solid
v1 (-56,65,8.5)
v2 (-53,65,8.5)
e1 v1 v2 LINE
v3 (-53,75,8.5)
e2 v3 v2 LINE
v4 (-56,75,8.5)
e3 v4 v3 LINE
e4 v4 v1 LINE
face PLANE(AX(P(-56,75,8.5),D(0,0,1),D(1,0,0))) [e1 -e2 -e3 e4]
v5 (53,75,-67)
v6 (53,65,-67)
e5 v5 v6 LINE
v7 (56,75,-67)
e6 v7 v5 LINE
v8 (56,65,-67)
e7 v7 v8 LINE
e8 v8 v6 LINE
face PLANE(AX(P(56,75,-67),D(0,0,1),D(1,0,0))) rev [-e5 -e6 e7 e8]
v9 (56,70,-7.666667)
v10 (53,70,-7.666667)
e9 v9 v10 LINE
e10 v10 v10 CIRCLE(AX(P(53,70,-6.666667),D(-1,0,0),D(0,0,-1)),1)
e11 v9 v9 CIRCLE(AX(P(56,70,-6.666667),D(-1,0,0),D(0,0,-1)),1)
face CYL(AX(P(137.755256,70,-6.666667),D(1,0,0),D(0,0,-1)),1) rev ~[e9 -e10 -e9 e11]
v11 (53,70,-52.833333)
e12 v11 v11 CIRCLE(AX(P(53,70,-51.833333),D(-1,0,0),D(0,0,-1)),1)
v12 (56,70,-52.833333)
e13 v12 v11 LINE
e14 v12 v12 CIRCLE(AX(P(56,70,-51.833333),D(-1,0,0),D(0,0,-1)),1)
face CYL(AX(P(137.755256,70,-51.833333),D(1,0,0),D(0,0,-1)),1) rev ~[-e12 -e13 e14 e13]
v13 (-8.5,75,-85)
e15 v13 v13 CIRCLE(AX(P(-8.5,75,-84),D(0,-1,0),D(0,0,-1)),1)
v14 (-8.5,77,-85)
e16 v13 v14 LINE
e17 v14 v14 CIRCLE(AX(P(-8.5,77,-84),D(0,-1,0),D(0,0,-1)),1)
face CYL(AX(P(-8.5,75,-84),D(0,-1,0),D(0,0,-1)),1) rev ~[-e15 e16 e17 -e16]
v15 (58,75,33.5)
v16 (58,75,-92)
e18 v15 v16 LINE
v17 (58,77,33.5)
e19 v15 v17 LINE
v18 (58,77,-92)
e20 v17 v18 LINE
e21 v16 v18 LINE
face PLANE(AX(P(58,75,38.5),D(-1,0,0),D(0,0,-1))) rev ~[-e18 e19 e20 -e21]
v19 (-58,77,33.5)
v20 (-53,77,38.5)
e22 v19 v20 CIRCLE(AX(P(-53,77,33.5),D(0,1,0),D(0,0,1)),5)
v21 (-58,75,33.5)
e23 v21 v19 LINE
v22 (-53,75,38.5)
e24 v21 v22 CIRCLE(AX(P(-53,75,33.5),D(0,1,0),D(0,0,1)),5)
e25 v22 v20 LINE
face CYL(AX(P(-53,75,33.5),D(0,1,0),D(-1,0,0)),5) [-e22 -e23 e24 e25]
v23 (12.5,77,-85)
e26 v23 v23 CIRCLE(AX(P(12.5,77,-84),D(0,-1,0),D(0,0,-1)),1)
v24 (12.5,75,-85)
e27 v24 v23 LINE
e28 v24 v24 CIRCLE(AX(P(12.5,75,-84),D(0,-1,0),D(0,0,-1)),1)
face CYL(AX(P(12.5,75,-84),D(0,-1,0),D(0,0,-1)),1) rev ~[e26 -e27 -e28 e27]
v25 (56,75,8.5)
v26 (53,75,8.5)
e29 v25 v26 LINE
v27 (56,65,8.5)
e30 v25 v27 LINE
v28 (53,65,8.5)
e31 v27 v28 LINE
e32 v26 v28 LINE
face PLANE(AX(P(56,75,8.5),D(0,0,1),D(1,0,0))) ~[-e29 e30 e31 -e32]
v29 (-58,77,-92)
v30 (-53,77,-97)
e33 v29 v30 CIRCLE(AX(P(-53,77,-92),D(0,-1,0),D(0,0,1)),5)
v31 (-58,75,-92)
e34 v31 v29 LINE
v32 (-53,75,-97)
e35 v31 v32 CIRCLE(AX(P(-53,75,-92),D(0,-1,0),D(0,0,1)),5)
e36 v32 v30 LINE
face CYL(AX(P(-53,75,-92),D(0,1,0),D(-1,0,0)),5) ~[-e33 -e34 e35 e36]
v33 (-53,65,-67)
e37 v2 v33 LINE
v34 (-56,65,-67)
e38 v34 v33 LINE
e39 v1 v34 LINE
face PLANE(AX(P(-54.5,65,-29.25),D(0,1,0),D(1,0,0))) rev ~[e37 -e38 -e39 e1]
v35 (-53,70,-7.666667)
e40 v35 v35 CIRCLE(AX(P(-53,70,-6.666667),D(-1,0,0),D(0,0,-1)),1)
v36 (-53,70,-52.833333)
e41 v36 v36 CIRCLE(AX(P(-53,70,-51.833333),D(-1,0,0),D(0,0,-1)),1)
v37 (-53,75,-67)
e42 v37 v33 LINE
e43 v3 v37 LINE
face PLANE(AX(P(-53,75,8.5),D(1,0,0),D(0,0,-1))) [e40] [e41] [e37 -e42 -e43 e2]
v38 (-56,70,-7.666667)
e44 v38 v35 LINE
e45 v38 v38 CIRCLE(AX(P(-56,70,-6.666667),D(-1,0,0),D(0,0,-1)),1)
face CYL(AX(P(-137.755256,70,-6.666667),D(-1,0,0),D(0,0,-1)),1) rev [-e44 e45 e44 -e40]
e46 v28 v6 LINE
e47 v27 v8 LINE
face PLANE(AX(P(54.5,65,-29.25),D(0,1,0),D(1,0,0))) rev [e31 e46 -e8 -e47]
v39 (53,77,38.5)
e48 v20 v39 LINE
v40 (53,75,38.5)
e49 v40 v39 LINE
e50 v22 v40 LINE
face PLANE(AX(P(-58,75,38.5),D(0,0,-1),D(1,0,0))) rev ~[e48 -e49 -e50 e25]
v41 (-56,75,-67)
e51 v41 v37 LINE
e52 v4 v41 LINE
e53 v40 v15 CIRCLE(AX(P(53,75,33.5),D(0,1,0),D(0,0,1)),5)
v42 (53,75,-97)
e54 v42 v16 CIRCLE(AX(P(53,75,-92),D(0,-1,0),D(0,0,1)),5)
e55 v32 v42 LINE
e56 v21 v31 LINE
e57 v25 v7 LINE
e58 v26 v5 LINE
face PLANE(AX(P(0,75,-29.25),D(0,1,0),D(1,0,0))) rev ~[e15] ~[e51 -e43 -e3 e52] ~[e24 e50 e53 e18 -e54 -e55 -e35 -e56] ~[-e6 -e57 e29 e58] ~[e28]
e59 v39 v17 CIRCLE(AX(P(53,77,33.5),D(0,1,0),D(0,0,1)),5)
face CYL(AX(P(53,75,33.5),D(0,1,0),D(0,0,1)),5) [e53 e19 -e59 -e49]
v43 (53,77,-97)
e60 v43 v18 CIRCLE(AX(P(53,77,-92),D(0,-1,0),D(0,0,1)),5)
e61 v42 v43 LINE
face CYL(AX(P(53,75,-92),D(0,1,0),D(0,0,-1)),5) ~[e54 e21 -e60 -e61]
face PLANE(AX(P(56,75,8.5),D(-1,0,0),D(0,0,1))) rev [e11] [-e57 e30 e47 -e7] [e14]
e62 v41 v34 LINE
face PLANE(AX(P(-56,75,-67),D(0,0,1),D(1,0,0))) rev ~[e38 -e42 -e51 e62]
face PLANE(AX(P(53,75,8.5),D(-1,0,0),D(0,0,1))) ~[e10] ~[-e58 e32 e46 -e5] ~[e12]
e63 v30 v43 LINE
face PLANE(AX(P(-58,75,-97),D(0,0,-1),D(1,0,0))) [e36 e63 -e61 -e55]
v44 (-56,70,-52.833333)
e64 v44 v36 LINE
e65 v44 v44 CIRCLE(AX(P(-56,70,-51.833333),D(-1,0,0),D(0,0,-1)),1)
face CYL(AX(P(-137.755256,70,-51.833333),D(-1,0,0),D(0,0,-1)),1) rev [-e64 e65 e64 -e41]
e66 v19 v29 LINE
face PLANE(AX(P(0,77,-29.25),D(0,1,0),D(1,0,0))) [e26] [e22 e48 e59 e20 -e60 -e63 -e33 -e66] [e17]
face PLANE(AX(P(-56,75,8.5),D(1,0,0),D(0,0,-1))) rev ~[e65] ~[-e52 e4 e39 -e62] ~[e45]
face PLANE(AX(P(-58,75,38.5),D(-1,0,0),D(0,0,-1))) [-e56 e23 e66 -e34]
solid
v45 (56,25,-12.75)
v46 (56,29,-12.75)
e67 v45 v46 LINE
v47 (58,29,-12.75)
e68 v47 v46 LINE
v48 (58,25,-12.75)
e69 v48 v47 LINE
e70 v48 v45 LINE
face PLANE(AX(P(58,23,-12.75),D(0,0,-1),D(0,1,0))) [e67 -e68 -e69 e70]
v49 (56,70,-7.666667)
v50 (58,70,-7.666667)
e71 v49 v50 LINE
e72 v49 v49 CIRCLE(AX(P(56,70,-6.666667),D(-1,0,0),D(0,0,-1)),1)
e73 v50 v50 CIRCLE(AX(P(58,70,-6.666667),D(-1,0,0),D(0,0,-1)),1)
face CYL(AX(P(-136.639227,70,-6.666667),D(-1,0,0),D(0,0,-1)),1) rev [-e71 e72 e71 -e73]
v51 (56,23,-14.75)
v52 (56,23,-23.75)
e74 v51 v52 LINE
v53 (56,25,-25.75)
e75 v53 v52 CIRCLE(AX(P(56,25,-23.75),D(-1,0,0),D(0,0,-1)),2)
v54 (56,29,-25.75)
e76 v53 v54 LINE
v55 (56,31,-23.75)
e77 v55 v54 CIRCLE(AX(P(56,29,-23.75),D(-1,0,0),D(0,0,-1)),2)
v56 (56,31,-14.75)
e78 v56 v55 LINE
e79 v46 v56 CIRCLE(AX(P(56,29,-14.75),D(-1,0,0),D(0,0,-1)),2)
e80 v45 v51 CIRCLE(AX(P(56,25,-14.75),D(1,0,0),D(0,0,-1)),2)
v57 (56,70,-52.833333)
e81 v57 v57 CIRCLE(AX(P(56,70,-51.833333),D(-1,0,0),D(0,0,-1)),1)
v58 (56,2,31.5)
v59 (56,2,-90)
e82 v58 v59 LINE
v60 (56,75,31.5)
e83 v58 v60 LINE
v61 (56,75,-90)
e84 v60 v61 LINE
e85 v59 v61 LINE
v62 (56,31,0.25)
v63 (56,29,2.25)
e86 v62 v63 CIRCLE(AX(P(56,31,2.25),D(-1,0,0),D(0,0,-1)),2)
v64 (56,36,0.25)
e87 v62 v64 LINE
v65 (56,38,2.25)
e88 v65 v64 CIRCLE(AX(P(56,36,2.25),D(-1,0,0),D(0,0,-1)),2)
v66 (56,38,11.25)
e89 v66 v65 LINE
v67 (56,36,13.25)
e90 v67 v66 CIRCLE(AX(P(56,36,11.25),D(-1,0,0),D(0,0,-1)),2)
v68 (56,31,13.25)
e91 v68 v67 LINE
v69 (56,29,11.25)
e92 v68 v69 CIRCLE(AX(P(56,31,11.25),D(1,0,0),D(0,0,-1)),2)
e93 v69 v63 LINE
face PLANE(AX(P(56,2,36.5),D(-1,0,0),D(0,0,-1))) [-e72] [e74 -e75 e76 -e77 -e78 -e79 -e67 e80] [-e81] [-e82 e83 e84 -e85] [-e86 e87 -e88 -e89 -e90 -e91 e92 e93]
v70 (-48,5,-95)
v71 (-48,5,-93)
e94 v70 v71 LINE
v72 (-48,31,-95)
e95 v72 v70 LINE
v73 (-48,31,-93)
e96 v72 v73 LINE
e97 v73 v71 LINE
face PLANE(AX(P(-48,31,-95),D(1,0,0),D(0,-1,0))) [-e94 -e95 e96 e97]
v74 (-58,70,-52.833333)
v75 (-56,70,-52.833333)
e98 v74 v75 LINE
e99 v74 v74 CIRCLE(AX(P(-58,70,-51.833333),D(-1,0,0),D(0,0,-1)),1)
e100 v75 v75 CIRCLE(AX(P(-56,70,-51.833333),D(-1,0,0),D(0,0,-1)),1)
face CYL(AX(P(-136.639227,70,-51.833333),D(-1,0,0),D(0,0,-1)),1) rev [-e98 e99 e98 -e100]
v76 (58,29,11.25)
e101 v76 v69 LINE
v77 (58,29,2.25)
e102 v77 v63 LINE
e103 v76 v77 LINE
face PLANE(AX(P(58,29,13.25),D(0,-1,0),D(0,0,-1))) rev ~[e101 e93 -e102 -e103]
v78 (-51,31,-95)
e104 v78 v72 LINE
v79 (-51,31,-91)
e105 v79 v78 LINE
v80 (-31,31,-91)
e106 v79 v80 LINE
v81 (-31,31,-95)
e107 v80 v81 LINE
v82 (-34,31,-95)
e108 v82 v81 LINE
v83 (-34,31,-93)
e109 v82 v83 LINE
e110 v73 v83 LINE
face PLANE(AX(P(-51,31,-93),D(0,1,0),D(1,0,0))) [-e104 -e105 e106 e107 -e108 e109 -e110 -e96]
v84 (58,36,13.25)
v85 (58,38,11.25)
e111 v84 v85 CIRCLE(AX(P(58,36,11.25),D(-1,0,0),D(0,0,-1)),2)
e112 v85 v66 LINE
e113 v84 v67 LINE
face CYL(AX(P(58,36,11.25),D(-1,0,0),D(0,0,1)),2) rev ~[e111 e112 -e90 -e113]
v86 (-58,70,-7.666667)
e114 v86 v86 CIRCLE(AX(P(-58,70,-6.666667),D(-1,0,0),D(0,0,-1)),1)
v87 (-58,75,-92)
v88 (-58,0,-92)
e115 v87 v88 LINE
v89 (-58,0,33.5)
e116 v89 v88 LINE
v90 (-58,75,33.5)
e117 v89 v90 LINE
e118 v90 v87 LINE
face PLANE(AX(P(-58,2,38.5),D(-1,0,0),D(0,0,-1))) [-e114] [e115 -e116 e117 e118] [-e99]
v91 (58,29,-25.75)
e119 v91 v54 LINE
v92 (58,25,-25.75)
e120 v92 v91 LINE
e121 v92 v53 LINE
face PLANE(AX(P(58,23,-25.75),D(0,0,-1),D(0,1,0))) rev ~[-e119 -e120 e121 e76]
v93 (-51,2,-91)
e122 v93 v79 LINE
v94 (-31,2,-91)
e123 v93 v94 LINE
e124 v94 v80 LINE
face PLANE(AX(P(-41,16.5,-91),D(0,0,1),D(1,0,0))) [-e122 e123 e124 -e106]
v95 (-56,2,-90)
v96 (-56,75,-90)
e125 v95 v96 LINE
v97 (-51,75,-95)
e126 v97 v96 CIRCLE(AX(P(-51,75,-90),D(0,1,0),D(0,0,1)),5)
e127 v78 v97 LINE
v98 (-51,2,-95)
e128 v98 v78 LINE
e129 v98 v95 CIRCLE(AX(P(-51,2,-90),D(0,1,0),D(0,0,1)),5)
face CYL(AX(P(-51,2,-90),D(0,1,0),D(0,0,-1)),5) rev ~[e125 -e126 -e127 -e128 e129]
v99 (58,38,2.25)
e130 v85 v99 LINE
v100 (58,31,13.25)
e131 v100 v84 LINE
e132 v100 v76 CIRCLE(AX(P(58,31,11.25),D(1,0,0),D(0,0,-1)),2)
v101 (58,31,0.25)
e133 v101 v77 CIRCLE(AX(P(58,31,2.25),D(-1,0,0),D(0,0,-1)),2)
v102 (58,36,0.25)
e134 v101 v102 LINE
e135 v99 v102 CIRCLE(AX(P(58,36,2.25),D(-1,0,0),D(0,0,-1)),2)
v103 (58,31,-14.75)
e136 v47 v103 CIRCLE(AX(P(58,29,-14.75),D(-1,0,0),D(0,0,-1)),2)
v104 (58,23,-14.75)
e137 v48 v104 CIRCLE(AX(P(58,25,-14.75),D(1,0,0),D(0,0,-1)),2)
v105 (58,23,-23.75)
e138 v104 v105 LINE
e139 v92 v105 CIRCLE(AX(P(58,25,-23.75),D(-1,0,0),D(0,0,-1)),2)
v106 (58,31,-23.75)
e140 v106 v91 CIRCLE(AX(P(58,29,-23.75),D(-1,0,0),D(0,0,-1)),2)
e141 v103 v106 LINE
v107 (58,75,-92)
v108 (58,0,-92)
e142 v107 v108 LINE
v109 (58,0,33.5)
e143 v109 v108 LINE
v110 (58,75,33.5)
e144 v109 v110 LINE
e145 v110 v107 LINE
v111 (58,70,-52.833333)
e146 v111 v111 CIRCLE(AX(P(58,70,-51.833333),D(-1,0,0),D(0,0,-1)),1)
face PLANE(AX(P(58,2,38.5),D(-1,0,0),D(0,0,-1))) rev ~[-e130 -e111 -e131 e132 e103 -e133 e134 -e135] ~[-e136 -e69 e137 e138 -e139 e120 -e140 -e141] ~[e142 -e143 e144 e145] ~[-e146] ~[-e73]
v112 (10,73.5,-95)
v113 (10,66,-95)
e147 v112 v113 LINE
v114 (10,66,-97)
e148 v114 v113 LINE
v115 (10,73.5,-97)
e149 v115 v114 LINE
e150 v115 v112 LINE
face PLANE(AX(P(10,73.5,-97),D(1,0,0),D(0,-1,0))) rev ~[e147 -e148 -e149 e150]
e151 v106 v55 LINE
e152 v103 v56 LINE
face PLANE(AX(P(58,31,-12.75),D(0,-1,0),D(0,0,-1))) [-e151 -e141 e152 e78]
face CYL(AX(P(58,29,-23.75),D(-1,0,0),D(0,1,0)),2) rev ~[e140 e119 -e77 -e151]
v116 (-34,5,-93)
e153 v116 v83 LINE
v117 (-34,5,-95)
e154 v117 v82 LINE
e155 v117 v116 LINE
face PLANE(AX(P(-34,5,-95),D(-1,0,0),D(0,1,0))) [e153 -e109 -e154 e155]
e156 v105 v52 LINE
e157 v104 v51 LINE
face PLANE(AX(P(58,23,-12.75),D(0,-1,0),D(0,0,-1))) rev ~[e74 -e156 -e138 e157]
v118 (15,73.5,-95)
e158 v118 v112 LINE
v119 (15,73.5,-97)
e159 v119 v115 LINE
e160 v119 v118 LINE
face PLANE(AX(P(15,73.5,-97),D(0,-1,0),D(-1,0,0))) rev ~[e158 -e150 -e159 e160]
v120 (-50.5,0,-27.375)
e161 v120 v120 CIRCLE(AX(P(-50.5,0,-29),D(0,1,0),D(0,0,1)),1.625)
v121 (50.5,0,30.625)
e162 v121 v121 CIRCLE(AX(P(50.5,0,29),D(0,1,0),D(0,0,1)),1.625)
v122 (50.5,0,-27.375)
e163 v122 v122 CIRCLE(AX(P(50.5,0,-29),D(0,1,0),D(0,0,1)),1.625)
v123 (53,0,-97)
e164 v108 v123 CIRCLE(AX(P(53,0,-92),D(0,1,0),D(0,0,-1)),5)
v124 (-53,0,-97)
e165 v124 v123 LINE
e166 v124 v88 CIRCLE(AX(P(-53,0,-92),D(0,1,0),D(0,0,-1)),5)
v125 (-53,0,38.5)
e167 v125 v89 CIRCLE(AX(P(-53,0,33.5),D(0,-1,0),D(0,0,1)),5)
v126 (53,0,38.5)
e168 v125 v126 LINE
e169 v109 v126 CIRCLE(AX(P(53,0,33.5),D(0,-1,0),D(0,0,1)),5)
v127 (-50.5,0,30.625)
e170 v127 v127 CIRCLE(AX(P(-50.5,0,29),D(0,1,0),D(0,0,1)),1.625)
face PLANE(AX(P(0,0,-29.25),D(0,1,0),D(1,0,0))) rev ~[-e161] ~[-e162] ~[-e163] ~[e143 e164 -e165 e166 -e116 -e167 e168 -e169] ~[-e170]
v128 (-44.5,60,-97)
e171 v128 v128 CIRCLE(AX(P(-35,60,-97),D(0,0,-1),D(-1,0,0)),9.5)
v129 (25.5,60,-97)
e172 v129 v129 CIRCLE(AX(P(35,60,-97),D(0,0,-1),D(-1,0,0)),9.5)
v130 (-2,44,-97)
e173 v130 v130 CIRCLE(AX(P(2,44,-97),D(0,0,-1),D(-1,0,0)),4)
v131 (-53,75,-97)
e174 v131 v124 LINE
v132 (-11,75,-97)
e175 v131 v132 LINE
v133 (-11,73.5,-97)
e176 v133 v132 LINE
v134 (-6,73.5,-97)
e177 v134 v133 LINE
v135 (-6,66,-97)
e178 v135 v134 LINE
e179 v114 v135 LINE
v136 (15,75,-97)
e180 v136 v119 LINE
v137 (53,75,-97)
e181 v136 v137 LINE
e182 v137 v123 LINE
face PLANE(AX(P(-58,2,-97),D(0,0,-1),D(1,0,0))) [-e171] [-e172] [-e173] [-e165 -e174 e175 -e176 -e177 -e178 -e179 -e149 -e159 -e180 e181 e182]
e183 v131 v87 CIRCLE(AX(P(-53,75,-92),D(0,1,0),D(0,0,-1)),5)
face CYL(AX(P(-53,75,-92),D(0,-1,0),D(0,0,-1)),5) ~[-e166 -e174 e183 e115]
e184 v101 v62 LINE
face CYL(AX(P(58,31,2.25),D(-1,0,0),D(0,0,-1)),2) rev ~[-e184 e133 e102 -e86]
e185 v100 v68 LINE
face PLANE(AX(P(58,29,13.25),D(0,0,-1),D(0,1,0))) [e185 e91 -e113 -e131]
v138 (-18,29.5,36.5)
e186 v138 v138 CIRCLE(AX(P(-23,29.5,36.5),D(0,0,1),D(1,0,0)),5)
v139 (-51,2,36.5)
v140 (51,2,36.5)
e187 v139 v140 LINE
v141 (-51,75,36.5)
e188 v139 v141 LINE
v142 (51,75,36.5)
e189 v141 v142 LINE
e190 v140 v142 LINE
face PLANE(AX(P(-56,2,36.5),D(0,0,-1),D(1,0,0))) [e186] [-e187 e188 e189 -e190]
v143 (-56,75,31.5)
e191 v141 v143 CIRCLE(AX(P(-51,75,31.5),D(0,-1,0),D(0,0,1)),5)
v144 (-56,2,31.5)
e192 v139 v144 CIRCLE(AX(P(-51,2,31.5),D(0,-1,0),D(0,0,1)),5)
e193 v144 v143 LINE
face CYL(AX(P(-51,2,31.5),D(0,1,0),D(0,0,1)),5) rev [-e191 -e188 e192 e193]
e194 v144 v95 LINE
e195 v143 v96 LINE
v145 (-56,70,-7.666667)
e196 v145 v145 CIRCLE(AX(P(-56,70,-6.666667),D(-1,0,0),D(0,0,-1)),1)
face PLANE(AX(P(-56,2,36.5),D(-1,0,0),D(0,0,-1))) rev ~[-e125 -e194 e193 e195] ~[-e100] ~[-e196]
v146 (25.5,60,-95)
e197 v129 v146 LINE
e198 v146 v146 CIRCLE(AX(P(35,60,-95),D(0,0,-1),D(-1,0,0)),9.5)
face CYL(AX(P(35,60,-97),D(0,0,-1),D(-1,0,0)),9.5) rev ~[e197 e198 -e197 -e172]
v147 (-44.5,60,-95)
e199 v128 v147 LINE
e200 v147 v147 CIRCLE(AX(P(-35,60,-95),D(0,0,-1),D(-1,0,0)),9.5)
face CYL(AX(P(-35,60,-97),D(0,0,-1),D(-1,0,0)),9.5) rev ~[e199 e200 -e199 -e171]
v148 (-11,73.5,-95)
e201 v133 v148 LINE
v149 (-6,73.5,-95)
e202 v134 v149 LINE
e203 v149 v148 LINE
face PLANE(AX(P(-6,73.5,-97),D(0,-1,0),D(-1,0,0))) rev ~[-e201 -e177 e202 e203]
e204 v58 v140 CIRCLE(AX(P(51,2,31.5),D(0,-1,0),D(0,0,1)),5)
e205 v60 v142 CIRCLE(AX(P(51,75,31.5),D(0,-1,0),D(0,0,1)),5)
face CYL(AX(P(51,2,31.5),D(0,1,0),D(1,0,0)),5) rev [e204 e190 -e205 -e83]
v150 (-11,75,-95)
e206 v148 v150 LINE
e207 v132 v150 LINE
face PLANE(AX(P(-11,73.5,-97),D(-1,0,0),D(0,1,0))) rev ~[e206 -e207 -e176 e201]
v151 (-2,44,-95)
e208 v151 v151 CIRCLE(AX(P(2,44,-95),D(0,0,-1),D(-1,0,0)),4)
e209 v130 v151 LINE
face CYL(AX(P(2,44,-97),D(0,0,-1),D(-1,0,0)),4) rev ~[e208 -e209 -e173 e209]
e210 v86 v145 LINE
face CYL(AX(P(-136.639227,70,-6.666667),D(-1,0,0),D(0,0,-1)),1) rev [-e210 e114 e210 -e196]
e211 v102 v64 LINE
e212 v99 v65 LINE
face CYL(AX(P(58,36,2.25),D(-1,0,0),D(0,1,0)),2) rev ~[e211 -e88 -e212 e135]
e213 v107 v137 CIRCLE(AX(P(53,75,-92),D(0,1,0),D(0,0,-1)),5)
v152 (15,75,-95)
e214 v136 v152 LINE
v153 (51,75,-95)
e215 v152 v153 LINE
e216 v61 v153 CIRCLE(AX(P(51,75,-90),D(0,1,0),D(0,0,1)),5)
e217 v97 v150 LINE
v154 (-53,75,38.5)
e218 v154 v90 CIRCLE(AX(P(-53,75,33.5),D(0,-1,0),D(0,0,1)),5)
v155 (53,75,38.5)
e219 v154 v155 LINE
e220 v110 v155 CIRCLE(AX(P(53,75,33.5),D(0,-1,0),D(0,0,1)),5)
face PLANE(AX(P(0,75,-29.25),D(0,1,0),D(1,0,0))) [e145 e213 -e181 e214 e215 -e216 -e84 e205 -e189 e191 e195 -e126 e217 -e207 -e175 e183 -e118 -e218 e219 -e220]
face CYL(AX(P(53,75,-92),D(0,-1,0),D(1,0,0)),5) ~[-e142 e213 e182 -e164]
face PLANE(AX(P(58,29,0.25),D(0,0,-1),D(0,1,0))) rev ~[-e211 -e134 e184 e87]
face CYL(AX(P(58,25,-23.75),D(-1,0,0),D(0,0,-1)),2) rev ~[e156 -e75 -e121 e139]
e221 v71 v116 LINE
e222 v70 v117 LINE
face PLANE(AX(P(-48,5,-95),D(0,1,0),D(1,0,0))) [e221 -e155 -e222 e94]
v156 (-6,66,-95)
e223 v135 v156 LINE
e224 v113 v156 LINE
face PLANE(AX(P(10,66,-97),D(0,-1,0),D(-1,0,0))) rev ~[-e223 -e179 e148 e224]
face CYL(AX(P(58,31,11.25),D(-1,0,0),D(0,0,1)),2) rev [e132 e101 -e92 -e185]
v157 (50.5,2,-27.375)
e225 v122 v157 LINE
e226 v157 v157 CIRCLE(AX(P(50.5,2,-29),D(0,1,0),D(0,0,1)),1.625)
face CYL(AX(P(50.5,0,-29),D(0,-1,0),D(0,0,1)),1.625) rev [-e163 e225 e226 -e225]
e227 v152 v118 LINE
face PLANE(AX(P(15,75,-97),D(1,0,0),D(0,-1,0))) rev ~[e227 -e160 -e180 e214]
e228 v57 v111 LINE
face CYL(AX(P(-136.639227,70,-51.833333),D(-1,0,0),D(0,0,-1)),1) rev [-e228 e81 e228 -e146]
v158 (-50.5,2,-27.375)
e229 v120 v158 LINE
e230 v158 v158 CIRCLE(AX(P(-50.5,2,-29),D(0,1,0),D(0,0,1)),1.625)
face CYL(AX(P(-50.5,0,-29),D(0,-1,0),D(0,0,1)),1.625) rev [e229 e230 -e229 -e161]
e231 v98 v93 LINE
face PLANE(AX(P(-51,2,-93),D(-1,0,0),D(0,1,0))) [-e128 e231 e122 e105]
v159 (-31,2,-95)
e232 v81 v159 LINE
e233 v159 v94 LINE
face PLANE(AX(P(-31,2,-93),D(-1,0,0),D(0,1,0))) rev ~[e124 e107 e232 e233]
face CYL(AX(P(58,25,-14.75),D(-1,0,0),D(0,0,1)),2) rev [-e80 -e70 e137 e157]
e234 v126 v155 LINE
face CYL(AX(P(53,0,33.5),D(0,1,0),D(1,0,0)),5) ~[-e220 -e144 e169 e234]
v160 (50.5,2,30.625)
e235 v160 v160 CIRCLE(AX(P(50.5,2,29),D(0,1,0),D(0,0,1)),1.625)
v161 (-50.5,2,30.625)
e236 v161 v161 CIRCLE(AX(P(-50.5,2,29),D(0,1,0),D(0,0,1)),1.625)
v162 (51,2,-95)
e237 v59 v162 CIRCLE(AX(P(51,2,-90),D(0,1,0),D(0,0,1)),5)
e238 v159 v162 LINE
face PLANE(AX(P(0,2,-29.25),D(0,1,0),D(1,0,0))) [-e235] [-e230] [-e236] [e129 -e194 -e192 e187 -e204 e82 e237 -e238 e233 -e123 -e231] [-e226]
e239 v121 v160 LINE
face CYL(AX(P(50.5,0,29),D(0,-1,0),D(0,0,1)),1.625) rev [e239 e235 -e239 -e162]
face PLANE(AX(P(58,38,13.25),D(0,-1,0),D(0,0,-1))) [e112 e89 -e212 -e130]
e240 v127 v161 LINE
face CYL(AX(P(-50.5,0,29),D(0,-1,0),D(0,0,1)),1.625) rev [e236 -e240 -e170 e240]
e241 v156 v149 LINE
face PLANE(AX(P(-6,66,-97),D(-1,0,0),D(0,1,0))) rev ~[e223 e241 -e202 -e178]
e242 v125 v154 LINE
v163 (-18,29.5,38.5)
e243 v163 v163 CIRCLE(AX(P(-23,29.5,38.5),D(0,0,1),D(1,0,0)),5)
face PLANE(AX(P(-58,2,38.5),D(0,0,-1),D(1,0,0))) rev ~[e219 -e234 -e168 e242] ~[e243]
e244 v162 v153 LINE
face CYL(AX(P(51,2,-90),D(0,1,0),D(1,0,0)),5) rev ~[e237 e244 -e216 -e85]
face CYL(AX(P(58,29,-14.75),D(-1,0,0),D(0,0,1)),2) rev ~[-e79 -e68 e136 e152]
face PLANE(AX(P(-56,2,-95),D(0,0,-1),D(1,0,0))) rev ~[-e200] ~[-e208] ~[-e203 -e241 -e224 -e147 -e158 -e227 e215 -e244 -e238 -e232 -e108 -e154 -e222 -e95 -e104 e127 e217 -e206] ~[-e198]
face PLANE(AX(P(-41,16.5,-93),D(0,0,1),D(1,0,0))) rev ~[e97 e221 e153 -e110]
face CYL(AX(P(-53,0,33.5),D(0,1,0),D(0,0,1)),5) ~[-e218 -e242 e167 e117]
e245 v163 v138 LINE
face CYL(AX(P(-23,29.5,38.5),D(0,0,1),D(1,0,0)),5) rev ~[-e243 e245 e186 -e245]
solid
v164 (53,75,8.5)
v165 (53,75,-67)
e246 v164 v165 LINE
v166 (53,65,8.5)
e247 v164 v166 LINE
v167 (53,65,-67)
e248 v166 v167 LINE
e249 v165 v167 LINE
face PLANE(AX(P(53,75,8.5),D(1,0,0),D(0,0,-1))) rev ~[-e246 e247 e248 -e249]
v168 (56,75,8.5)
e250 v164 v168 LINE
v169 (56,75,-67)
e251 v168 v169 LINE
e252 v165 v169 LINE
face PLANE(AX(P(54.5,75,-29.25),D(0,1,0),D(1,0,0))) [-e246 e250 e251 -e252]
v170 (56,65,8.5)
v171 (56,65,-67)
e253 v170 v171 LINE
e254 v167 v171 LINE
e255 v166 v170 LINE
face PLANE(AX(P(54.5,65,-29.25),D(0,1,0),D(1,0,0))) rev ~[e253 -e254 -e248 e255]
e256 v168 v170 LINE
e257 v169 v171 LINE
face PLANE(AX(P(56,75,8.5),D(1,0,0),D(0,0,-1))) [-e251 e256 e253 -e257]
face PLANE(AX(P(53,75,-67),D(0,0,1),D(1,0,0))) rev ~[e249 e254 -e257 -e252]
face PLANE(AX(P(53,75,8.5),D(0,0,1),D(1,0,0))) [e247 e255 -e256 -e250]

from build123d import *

# Parameters (mm, degrees)
SKETCH1_W               = 116
SKETCH1_H               = 135.5
SKETCH1_R               = 1.625
BOSS_EXTRUDE1_DEPTH     = 2
SKETCH3_W               = 116
SKETCH3_H               = 135.5
SKETCH3_W_2             = 112
SKETCH3_H_2             = 131.5
BOSS_EXTRUDE2_DEPTH     = 73
SKETCH5_W               = 13
SKETCH5_H               = 8
SKETCH5_H_2             = 9
CUT_EXTRUDE1_DEPTH      = 2
SKETCH8_R               = 5
CUT_EXTRUDE2_DEPTH      = 2
FILLET1_R               = 2
FILLET2_R               = 5
CUT_EXTRUDE3_DEPTH      = 136.639227364
CUT_EXTRUDE3_DEPTH_BACK = 136.639227364
SKETCH9_R               = 1
SKETCH10_R              = 4
CUT_EXTRUDE4_DEPTH      = 2
CUT_EXTRUDE5_DEPTH      = 2
BOSS_EXTRUDE4_DEPTH     = 2
SKETCH15_W              = 20
SKETCH15_H              = 29
BOSS_EXTRUDE5_DEPTH     = 2
SKETCH16_R              = 9.5
CUT_EXTRUDE6_DEPTH      = 2
SKETCH17_R              = 9.5
CUT_EXTRUDE7_DEPTH      = 2
SKETCH18_W              = 3
SKETCH18_H              = 75.5
BOSS_EXTRUDE6_DEPTH     = 10
BOSS_EXTRUDE6_2_DEPTH   = 10
SKETCH19_W              = 116
SKETCH19_H              = 135.5
BOSS_EXTRUDE7_DEPTH     = 2
FILLET3_R               = 5
SKETCH21_R              = 1
CUT_EXTRUDE8_DEPTH      = 2
CUT_EXTRUDE9_DEPTH      = 137.75525584
CUT_EXTRUDE9_DEPTH_BACK = 137.75525584
SKETCH22_R              = 1
SKETCH23_R              = 1
CUT_EXTRUDE10_DEPTH     = 2


with BuildPart() as part:
    # Sketch1 → Boss-Extrude1 (new body)
    with BuildSketch(Plane(origin=(0, 0, 0), x_dir=(1, 0, 0), z_dir=(0, 1, 0))):
        with Locations((0, 29.25)):
            Rectangle(SKETCH1_W, SKETCH1_H)
        with Locations(Location((-50.5, 29, 0), (0, 0, 270))):
            Circle(SKETCH1_R, mode=Mode.SUBTRACT)
        with Locations(Location((50.5, 29, 0), (0, 0, 270))):
            Circle(SKETCH1_R, mode=Mode.SUBTRACT)
        with Locations(Location((50.5, -29, 0), (0, 0, 270))):
            Circle(SKETCH1_R, mode=Mode.SUBTRACT)
        with Locations(Location((-50.5, -29, 0), (0, 0, 270))):
            Circle(SKETCH1_R, mode=Mode.SUBTRACT)
    extrude(amount=BOSS_EXTRUDE1_DEPTH)

    # Sketch3 → Boss-Extrude2 (add)
    with BuildSketch(Plane(origin=(0, 2, 0), x_dir=(1, 0, 0), z_dir=(0, 1, 0))):
        with Locations((0, 29.25)):
            Rectangle(SKETCH3_W, SKETCH3_H)
        with Locations((0, 29.25)):
            Rectangle(SKETCH3_W_2, SKETCH3_H_2, mode=Mode.SUBTRACT)
    extrude(amount=BOSS_EXTRUDE2_DEPTH)

    # Sketch5 → Cut-Extrude1 (cut)
    with BuildSketch(Plane(origin=(58, 0, 0), x_dir=(0, 0, -1), z_dir=(1, 0, 0))):
        with Locations((19.25, 27)):
            Rectangle(SKETCH5_W, SKETCH5_H)
        with Locations((-6.75, 33.5)):
            Rectangle(SKETCH5_W, SKETCH5_H_2)
    extrude(amount=-CUT_EXTRUDE1_DEPTH, mode=Mode.SUBTRACT)

    # Sketch8 → Cut-Extrude2 (cut)
    with BuildSketch(Plane.XY.offset(38.5)):
        with Locations((-23, 29.5)):
            Circle(SKETCH8_R)
    extrude(amount=-CUT_EXTRUDE2_DEPTH, mode=Mode.SUBTRACT)

    # Fillet1
    fillet1_edges = [part.edges().sort_by_distance(p)[0] for p in [
        (57, 31, -12.75),
        (57, 23, -12.75),
        (57, 23, -25.75),
        (57, 31, -25.75),
        (57, 38, 13.25),
        (57, 29, 13.25),
        (57, 29, 0.25),
        (57, 38, 0.25),
    ]]
    fillet(fillet1_edges, radius=FILLET1_R)

    # Fillet2
    fillet2_edges = [part.edges().sort_by_distance(p)[0] for p in [
        (56, 38.5, -95),
        (56, 38.5, 36.5),
        (-56, 38.5, 36.5),
        (-56, 38.5, -95),
        (-58, 37.5, -97),
        (58, 37.5, -97),
        (58, 37.5, 38.5),
        (-58, 37.5, 38.5),
    ]]
    fillet(fillet2_edges, radius=FILLET2_R)

    # Sketch9 → Cut-Extrude3 (cut, two sides: drawn at the far end of the back side and taken through both)
    with BuildSketch(Plane(origin=(0, 0, 0), x_dir=(0, 0, -1), z_dir=(1, 0, 0)).offset(-CUT_EXTRUDE3_DEPTH_BACK)):
        with Locations((6.666666667, 70)):
            Circle(SKETCH9_R)
        with Locations((51.833333333, 70)):
            Circle(SKETCH9_R)
    extrude(amount=CUT_EXTRUDE3_DEPTH + CUT_EXTRUDE3_DEPTH_BACK, mode=Mode.SUBTRACT)

    # Sketch10 → Cut-Extrude4 (cut)
    with BuildSketch(Plane(origin=(0, 0, -97), x_dir=(-1, 0, 0), z_dir=(0, 0, -1))):
        with Locations((-2, 44)):
            Circle(SKETCH10_R)
    extrude(amount=-CUT_EXTRUDE4_DEPTH, mode=Mode.SUBTRACT)

    # Sketch12 → Cut-Extrude5 (cut)
    with BuildSketch(Plane(origin=(0, 0, -97), x_dir=(-1, 0, 0), z_dir=(0, 0, -1))):
        Polygon((-15, 75), (-15, 73.5), (-10, 73.5), (-10, 66), (6, 66), (6, 73.5), (11, 73.5), (11, 75), align=None)
    extrude(amount=-CUT_EXTRUDE5_DEPTH, mode=Mode.SUBTRACT)

    # Sketch14 → Boss-Extrude4 (add)
    with BuildSketch(Plane.XY.offset(-95)):
        Polygon((-48, 31), (-48, 5), (-34, 5), (-34, 31), (-31, 31), (-31, 2), (-51, 2), (-51, 31), align=None)
    extrude(amount=BOSS_EXTRUDE4_DEPTH)

    # Sketch15 → Boss-Extrude5 (add)
    with BuildSketch(Plane.XY.offset(-93)):
        with Locations((-41, 16.5)):
            Rectangle(SKETCH15_W, SKETCH15_H)
    extrude(amount=BOSS_EXTRUDE5_DEPTH)

    # Sketch16 → Cut-Extrude6 (cut)
    with BuildSketch(Plane(origin=(0, 0, -97), x_dir=(-1, 0, 0), z_dir=(0, 0, -1))):
        with Locations((-35, 60)):
            Circle(SKETCH16_R)
    extrude(amount=-CUT_EXTRUDE6_DEPTH, mode=Mode.SUBTRACT)

    # Sketch17 → Cut-Extrude7 (cut)
    with BuildSketch(Plane(origin=(0, 0, -97), x_dir=(-1, 0, 0), z_dir=(0, 0, -1))):
        with Locations((35, 60)):
            Circle(SKETCH17_R)
    extrude(amount=-CUT_EXTRUDE7_DEPTH, mode=Mode.SUBTRACT)


with BuildPart() as body_2:
    # Sketch18 → Boss-Extrude6 (new body)
    with BuildSketch(Plane(origin=(0, 75, 0), x_dir=(1, 0, 0), z_dir=(0, 1, 0))):
        with Locations((-54.5, 29.25)):
            Rectangle(SKETCH18_W, SKETCH18_H)
    extrude(amount=-BOSS_EXTRUDE6_DEPTH)

    # Sketch19 → Boss-Extrude7 (add)
    with BuildSketch(Plane(origin=(0, 75, 0), x_dir=(1, 0, 0), z_dir=(0, 1, 0))):
        with Locations((0, 29.25)):
            Rectangle(SKETCH19_W, SKETCH19_H)
    extrude(amount=BOSS_EXTRUDE7_DEPTH)

    # Fillet3
    fillet3_edges = [body_2.edges().sort_by_distance(p)[0] for p in [
        (58, 76, 38.5),
        (58, 76, -97),
        (-58, 76, -97),
        (-58, 76, 38.5),
    ]]
    fillet(fillet3_edges, radius=FILLET3_R)

    # Sketch21 → Cut-Extrude8 (cut)
    with BuildSketch(Plane.XZ.offset(-75)):
        with Locations(Location((12.5, -84, 0), (0, 0, 270))):
            Circle(SKETCH21_R)
        with Locations(Location((-8.5, -84, 0), (0, 0, 270))):
            Circle(SKETCH21_R)
    extrude(amount=-CUT_EXTRUDE8_DEPTH, mode=Mode.SUBTRACT)

    # Sketch22 → Cut-Extrude9 (cut, two sides: drawn at the far end of the back side and taken through both)
    with BuildSketch(Plane(origin=(0, 0, 0), x_dir=(0, 0, -1), z_dir=(1, 0, 0)).offset(-CUT_EXTRUDE9_DEPTH_BACK)):
        with Locations((6.666666667, 70)):
            Circle(SKETCH22_R)
        with Locations((51.833333333, 70)):
            Circle(SKETCH22_R)
    extrude(amount=CUT_EXTRUDE9_DEPTH + CUT_EXTRUDE9_DEPTH_BACK, mode=Mode.SUBTRACT)

    # Mirror1: body 2 across plane


with BuildPart() as body_3:
    # Sketch18 → Boss-Extrude6 2 (new body)
    with BuildSketch(Plane(origin=(0, 75, 0), x_dir=(1, 0, 0), z_dir=(0, 1, 0))):
        with Locations((54.5, 29.25)):
            Rectangle(SKETCH18_W, SKETCH18_H)
    extrude(amount=-BOSS_EXTRUDE6_2_DEPTH)


with BuildPart() as body_2_1:
    add(body_2.part)
    add(body_2.part.mirror(Plane(origin=(0, 0, 0), x_dir=(0, 0, 1), z_dir=(1, 0, 0))))

    # Sketch23 → Cut-Extrude10 (cut)
    with BuildSketch(Plane.XZ.offset(-75)):
        with Locations(Location((-8.5, -84, 0), (0, 0, 270))):
            Circle(SKETCH23_R)
        with Locations(Location((12.5, -84, 0), (0, 0, 270))):
            Circle(SKETCH23_R)
    extrude(amount=-CUT_EXTRUDE10_DEPTH, mode=Mode.SUBTRACT)


solid = Compound([part.part, body_3.part, body_2_1.part])
